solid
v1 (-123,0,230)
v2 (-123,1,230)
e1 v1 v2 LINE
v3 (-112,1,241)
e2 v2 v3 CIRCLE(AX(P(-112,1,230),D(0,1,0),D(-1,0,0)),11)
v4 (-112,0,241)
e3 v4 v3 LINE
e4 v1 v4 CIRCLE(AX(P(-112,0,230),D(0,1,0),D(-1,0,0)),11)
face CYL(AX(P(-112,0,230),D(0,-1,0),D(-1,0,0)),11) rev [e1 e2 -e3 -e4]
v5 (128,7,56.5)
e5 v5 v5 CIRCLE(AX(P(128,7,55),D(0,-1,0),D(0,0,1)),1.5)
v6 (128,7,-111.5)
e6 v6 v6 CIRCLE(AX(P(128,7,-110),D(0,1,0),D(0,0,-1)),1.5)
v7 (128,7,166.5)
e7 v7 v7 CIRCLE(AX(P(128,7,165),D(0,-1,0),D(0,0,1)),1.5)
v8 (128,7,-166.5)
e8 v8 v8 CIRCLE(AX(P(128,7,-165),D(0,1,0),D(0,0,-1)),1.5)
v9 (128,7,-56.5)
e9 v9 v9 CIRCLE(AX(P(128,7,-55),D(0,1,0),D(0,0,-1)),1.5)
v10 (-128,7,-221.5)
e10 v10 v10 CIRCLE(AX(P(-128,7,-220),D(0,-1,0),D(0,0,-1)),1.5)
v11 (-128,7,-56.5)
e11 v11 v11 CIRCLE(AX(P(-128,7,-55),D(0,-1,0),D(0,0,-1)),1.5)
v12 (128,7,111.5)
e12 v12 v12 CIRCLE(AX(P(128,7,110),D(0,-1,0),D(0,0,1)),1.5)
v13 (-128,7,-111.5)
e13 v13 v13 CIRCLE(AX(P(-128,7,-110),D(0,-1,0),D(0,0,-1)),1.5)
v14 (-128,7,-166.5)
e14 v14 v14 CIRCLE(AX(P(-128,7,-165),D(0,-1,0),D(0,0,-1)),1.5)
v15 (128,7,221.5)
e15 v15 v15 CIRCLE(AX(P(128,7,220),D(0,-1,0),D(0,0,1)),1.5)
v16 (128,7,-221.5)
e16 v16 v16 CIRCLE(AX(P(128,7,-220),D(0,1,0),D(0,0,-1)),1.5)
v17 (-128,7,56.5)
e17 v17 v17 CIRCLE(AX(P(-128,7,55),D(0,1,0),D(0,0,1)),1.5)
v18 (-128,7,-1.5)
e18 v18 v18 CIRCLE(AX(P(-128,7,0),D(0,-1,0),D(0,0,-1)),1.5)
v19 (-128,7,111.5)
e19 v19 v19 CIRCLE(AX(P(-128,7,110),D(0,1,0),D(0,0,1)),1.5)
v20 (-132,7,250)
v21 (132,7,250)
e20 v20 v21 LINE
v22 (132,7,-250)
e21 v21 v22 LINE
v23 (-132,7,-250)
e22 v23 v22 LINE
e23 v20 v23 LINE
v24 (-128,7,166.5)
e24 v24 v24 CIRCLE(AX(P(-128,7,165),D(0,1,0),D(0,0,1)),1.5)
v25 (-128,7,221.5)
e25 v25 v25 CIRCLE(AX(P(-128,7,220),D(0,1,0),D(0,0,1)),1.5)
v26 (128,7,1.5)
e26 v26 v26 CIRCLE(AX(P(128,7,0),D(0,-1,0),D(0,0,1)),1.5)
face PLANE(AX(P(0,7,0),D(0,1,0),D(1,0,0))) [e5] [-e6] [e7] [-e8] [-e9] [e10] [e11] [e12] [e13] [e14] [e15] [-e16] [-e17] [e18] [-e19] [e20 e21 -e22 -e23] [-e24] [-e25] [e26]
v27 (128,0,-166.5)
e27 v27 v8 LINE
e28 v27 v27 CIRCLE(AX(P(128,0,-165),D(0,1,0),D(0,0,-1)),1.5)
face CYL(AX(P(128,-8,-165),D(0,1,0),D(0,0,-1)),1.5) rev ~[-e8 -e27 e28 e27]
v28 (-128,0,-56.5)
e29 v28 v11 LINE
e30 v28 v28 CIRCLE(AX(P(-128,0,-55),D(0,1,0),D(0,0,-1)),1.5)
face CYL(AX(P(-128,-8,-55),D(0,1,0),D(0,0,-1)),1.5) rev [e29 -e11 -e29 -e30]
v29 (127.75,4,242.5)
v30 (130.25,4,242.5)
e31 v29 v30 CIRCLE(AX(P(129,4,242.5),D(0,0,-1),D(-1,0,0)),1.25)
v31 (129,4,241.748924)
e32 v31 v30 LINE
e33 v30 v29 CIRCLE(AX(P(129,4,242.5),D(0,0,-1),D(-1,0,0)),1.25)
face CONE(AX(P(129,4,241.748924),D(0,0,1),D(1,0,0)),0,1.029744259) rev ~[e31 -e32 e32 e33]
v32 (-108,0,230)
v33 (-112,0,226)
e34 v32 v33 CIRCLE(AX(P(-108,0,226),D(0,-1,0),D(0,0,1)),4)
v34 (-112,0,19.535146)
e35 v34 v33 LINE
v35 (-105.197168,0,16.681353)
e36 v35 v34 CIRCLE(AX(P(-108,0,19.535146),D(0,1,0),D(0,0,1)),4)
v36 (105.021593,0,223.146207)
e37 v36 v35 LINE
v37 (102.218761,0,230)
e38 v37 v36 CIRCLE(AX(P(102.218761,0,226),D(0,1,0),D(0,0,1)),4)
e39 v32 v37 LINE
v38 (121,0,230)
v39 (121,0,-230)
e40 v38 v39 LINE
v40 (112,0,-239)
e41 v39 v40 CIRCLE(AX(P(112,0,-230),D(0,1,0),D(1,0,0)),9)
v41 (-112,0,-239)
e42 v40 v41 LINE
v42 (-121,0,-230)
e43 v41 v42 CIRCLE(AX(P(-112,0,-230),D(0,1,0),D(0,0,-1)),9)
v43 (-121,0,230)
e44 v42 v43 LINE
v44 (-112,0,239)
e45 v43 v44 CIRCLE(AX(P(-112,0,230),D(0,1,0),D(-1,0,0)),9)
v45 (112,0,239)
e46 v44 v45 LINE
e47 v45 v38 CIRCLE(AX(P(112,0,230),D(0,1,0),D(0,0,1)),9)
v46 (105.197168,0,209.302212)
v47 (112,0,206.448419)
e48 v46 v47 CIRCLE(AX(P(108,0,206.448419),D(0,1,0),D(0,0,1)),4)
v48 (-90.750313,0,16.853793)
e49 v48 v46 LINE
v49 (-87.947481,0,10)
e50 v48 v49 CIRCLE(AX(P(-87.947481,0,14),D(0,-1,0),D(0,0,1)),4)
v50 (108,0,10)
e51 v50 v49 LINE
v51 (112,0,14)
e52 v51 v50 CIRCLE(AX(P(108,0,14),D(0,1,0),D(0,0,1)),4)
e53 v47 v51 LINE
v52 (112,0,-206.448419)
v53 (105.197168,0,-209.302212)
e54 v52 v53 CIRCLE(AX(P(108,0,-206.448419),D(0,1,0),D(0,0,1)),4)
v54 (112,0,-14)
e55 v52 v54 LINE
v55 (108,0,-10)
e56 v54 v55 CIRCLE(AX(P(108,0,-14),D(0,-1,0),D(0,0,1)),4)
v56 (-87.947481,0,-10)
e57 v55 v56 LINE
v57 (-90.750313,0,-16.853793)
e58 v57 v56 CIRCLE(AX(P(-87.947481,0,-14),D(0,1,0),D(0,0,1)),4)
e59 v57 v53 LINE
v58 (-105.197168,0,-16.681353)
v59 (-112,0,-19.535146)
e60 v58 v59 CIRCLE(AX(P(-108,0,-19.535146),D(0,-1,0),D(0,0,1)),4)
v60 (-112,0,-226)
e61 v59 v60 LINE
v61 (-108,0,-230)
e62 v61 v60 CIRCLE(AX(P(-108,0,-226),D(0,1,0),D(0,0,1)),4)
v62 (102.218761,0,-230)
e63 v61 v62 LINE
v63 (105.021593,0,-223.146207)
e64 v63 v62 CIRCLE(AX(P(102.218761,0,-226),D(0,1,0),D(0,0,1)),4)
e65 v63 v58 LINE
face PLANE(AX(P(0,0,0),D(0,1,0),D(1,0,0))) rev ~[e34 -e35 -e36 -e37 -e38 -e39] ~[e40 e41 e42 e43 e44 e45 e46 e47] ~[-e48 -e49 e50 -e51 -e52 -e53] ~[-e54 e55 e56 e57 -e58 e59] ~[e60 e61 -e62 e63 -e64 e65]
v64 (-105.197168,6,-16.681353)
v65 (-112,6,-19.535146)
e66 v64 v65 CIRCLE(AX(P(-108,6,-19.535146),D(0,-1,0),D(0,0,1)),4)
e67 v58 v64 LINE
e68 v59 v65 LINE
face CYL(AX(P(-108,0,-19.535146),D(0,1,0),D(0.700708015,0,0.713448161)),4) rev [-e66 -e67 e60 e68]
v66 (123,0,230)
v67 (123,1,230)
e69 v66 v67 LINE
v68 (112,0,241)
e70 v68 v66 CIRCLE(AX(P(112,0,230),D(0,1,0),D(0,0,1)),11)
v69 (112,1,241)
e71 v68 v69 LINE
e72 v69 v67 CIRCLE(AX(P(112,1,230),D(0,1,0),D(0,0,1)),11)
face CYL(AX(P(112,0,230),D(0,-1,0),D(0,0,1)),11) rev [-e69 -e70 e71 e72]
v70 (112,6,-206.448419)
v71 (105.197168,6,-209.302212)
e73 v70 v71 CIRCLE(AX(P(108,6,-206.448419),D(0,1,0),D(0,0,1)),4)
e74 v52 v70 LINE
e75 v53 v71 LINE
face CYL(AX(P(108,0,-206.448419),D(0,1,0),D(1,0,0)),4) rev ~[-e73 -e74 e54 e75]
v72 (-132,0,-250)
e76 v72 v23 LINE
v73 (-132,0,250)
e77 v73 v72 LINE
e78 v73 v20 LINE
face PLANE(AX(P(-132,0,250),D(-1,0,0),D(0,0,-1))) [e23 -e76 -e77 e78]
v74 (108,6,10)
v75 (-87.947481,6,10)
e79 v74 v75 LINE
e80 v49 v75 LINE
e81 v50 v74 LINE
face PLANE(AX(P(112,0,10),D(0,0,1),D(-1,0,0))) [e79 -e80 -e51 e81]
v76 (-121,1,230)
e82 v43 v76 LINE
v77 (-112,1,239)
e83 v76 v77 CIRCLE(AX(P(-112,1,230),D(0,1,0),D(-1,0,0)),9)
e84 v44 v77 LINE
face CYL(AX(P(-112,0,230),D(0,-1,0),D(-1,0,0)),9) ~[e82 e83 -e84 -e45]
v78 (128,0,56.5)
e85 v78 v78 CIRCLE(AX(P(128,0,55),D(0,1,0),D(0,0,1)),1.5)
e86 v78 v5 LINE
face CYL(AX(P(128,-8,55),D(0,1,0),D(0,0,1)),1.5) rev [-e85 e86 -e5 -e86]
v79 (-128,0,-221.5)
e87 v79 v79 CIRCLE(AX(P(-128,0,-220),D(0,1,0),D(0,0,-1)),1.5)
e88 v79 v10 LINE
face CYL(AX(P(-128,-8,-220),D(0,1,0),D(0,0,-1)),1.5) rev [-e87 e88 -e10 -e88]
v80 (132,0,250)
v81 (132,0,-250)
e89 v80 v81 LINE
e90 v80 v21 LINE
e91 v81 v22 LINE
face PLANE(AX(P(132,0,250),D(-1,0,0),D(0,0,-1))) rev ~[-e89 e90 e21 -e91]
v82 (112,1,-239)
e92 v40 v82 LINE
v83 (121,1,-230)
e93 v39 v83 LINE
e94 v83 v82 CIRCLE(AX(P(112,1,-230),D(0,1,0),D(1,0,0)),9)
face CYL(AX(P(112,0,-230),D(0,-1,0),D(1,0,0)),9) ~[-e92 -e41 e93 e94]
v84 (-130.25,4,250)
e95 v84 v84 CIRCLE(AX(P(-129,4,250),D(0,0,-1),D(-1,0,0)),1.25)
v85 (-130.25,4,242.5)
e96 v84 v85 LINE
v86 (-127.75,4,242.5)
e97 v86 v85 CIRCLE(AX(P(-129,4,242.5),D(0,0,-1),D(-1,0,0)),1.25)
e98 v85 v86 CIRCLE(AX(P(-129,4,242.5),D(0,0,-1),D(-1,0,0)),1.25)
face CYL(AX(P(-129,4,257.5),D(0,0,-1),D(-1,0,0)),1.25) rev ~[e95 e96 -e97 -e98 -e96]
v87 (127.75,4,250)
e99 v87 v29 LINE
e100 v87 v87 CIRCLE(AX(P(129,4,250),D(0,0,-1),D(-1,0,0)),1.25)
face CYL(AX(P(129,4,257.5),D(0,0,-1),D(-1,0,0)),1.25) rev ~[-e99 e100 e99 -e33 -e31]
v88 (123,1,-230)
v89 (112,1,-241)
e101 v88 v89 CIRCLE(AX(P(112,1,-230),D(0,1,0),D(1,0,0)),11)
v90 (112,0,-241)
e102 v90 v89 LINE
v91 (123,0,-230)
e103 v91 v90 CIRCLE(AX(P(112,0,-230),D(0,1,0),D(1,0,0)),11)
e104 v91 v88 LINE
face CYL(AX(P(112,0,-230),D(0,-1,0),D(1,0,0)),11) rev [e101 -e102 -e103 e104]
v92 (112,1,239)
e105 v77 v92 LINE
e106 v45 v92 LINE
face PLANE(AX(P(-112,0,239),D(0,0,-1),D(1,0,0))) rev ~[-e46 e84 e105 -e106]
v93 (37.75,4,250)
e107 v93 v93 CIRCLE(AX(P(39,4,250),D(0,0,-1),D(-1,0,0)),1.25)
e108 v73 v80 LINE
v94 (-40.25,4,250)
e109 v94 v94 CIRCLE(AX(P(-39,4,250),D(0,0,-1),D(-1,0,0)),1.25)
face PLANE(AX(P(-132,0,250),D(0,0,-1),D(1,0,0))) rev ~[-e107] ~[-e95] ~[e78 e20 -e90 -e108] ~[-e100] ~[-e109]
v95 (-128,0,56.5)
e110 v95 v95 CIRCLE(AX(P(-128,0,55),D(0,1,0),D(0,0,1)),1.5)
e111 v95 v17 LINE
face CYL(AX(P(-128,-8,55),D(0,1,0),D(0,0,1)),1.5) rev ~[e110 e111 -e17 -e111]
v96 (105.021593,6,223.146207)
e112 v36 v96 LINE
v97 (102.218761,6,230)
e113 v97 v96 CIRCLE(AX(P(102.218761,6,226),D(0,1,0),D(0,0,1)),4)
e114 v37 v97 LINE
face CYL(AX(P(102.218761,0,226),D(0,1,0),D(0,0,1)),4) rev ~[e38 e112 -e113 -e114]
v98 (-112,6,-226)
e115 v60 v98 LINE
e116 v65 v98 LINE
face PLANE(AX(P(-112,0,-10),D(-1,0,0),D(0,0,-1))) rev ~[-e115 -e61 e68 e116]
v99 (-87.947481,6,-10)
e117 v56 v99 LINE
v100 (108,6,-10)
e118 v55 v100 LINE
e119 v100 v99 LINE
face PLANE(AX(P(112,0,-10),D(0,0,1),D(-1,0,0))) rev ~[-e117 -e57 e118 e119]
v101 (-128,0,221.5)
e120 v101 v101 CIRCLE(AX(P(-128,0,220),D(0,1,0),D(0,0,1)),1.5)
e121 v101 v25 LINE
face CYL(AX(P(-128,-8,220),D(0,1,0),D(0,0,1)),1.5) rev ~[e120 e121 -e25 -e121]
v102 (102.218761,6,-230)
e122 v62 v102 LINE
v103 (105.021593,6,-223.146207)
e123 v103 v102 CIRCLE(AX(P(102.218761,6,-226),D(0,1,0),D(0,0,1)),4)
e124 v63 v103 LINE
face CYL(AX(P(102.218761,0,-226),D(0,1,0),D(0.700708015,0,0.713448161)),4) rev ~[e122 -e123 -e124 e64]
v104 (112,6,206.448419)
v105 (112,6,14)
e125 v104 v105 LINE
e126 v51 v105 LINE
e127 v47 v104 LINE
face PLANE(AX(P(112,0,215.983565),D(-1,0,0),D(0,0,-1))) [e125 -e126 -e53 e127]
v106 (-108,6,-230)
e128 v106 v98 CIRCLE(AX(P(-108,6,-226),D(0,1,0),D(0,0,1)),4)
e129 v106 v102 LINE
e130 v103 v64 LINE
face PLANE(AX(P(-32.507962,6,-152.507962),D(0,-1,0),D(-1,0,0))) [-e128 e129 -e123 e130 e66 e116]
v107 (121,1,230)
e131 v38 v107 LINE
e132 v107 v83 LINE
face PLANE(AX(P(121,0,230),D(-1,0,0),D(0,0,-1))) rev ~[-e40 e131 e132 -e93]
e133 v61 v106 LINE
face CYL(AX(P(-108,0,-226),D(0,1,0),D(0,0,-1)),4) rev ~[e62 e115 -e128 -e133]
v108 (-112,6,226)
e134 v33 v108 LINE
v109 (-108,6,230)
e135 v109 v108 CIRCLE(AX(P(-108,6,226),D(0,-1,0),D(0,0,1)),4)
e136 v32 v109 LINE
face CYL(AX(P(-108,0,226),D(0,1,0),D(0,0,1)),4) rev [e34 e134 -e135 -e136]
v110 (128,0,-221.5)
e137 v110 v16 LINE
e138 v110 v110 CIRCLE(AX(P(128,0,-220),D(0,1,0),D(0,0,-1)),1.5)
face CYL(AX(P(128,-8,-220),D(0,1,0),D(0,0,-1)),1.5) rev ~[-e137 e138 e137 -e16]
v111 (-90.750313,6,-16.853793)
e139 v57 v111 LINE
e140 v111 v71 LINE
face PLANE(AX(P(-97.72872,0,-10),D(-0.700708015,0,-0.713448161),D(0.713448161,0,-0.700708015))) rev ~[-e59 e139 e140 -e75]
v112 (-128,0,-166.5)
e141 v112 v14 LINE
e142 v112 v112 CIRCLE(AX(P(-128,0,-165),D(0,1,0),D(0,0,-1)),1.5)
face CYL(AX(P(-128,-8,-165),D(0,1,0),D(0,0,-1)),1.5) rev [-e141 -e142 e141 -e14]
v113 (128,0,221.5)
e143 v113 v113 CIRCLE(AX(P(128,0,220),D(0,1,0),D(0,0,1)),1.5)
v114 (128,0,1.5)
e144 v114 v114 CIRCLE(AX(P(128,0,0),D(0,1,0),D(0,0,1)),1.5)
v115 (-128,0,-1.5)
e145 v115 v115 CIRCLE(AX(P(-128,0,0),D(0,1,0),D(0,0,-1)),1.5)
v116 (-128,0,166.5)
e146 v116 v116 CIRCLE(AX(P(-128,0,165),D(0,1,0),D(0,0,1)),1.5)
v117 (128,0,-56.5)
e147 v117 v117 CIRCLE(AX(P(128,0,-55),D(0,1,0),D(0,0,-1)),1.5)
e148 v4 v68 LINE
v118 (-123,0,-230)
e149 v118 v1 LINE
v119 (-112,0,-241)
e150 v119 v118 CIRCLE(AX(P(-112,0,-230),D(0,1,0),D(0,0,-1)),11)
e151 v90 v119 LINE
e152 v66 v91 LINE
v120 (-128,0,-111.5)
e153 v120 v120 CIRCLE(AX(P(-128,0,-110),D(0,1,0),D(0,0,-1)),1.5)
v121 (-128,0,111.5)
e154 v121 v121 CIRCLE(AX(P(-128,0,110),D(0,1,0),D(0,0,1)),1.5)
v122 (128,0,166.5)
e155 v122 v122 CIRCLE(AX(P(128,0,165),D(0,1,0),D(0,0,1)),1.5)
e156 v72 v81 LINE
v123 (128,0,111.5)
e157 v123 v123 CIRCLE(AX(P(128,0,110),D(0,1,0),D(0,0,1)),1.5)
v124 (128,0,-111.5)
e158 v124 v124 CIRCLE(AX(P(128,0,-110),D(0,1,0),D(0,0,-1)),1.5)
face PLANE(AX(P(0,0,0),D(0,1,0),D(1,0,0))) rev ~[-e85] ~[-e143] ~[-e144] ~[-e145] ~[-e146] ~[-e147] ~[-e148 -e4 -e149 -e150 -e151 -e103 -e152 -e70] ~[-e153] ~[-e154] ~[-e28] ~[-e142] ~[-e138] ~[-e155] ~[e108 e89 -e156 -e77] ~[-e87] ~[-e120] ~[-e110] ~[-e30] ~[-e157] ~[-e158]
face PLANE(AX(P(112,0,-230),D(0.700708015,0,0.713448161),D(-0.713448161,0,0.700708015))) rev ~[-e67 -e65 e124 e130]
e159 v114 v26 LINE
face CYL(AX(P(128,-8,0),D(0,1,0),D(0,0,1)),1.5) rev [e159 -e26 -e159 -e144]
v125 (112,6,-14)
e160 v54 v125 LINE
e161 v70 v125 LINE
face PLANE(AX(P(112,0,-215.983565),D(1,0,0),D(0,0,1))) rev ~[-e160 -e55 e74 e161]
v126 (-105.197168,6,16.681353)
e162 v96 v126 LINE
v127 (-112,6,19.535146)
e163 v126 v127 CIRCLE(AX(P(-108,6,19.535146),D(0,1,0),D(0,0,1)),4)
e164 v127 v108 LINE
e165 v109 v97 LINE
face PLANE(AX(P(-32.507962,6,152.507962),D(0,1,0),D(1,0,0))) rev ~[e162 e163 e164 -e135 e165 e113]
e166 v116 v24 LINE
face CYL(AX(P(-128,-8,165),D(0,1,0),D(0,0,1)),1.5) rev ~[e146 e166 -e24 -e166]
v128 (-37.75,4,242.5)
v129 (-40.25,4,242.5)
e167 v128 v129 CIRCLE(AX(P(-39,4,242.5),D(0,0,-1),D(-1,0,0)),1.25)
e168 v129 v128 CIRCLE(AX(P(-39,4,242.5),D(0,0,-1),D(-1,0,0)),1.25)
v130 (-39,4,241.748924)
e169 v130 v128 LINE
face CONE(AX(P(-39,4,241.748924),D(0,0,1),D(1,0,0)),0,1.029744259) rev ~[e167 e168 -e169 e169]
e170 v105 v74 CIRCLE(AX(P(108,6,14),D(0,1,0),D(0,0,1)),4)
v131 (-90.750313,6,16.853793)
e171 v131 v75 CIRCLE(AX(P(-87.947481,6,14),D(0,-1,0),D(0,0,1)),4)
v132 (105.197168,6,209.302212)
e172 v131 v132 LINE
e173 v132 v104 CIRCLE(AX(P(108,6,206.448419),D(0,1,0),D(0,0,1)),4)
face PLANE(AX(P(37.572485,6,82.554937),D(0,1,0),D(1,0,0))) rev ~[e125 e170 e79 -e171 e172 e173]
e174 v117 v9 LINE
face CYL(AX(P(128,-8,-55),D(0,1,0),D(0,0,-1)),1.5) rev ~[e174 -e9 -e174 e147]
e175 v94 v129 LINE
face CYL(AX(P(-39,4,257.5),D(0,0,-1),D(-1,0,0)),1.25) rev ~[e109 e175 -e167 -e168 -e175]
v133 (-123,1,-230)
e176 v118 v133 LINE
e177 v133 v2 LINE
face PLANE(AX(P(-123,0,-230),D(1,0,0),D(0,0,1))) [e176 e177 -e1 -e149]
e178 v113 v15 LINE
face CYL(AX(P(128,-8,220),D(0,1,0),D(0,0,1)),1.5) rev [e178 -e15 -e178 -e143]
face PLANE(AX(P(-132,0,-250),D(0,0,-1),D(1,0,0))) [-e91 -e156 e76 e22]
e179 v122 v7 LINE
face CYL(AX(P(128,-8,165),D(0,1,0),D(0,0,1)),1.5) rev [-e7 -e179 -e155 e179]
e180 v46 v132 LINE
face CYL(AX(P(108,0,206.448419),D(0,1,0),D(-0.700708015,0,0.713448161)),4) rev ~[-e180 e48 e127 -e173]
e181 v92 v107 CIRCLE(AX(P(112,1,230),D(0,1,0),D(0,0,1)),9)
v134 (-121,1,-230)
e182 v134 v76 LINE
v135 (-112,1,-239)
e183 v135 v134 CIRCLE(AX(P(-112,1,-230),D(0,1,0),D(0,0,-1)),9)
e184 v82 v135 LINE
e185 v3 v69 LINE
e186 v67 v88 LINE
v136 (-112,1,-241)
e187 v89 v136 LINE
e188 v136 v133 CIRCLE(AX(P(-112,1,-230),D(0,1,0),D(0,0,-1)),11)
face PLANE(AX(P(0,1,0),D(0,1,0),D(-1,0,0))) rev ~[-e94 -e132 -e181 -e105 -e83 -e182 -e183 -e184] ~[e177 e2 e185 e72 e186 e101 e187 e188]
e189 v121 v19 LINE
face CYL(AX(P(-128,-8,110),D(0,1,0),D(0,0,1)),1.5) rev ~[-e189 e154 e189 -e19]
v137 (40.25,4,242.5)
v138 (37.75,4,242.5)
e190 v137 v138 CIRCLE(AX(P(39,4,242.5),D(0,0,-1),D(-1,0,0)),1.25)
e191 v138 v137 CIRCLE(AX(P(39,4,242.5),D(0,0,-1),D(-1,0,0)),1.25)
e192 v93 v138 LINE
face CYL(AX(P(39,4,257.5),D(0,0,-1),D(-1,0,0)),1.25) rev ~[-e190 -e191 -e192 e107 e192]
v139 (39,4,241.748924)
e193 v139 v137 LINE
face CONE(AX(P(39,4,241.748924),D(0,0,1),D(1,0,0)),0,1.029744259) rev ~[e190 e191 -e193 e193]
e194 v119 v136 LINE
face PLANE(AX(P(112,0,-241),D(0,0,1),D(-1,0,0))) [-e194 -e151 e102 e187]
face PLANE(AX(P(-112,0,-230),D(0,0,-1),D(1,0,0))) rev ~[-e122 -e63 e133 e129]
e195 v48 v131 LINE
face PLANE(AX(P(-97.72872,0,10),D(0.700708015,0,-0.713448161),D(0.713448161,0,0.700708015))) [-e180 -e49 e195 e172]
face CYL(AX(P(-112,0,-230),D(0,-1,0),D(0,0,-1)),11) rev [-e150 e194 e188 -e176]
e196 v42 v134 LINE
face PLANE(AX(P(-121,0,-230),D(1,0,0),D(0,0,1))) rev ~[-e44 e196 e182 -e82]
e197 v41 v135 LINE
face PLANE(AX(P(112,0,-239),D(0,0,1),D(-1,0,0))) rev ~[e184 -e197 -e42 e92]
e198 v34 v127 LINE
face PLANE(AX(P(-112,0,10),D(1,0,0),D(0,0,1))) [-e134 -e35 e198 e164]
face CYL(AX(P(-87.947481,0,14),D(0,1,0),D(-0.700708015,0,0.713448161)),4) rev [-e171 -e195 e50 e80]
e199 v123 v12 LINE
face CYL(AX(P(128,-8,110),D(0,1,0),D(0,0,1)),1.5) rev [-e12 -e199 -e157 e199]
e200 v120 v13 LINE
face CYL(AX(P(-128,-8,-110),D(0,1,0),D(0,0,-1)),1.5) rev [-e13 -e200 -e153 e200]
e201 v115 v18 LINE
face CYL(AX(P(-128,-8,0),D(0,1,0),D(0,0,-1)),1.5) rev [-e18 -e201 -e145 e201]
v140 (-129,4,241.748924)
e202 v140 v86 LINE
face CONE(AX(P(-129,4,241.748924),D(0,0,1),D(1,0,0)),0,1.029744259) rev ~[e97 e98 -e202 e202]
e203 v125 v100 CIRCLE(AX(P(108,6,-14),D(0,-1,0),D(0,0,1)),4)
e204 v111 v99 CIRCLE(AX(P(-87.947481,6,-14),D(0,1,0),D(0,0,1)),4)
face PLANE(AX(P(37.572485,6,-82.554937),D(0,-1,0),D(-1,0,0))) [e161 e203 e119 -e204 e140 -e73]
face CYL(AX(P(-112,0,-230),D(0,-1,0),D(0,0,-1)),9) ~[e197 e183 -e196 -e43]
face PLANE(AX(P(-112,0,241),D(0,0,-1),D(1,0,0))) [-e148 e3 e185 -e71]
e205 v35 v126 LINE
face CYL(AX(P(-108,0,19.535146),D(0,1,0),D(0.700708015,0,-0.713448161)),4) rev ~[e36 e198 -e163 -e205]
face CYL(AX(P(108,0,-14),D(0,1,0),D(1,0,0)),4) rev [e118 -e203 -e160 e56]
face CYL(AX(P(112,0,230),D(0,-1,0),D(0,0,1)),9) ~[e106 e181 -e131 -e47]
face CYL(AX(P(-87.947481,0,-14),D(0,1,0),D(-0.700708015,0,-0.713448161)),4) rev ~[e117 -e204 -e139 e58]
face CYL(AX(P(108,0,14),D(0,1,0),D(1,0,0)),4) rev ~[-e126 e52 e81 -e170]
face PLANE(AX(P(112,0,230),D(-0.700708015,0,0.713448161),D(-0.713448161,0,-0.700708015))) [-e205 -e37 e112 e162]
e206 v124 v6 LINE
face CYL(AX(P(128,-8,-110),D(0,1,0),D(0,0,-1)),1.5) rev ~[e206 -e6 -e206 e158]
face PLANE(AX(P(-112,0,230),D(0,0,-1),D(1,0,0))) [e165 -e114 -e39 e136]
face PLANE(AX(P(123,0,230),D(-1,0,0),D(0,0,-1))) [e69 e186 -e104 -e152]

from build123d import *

# Parameters (mm, degrees)
SKETCH1_W                      = 264
SKETCH1_H                      = 500
BOSS_EXTRUDE1_DEPTH            = 7
CUT_EXTRUDE1_DEPTH             = 1
F_3_0MM_DOWEL_HOLE1_AT_2_COUNT = 2
F_3_0MM_DOWEL_HOLE1_AT_2_PITCH = 55
F_3_0MM_DOWEL_HOLE1_AT_3_COUNT = 2
F_3_0MM_DOWEL_HOLE1_AT_3_PITCH = 110
F_3_0MM_DOWEL_HOLE1_AT_4_COUNT = 2
F_3_0MM_DOWEL_HOLE1_AT_4_PITCH = 165
F_3_0MM_DOWEL_HOLE1_AT_5_COUNT = 2
F_3_0MM_DOWEL_HOLE1_AT_5_PITCH = 220
CUT_EXTRUDE2_DEPTH             = 6
FILLET1_R                      = 4
M3_TAPPED_HOLE2_D              = 2.5
M3_TAPPED_HOLE2_DEPTH          = 7.5
M3_TAPPED_HOLE2_TIP            = 0.751075774


with BuildPart() as part:
    # Sketch1 → Boss-Extrude1 (new body)
    with BuildSketch(Plane(origin=(0, 0, 0), x_dir=(1, 0, 0), z_dir=(0, 1, 0))):
        Rectangle(SKETCH1_W, SKETCH1_H)
    extrude(amount=BOSS_EXTRUDE1_DEPTH)

    # Sketch2 → Cut-Extrude1 (cut)
    with BuildSketch(Plane.XZ):
        with BuildLine():
            Line((123, 230), (123, -230))
            ThreePointArc((123, -230), (119.778174593, -237.778174593), (112, -241))
            Line((112, -241), (-112, -241))
            ThreePointArc((-112, -241), (-119.778174593, -237.778174593), (-123, -230))
            Line((-123, -230), (-123, 230))
            ThreePointArc((-123, 230), (-119.778174593, 237.778174593), (-112, 241))
            Line((-112, 241), (112, 241))
            ThreePointArc((112, 241), (119.778174593, 237.778174593), (123, 230))
        make_face()
        with BuildLine():
            Line((121, 230), (121, -230))
            ThreePointArc((121, -230), (118.363961031, -236.363961031), (112, -239))
            Line((112, -239), (-112, -239))
            ThreePointArc((-112, -239), (-118.363961031, -236.363961031), (-121, -230))
            Line((-121, -230), (-121, 230))
            ThreePointArc((-121, 230), (-118.363961031, 236.363961031), (-112, 239))
            Line((-112, 239), (112, 239))
            ThreePointArc((112, 239), (118.363961031, 236.363961031), (121, 230))
        make_face(mode=Mode.SUBTRACT)
    extrude(amount=-CUT_EXTRUDE1_DEPTH, mode=Mode.SUBTRACT)

    # Sketch3 → Ø3.0mm Dowel Hole1 (revolve, cut)
    with BuildSketch(Plane(origin=(128, 7, 220), x_dir=(0, 0, 1), z_dir=(1, 0, 0))):
        Polygon((0, 0), (0, 15.901290929), (1.5, 15), (1.5, 0), align=None)
    f_3_0mm_dowel_hole1 = revolve(axis=Axis((128, 13.35, 220), (0, -1, 0)), mode=Mode.SUBTRACT)

    # Ø3.0mm Dowel Hole1 at 2: Ø3.0mm Dowel Hole1 ×2
    with Locations(*[(0, 0, -i * F_3_0MM_DOWEL_HOLE1_AT_2_PITCH) for i in range(1, F_3_0MM_DOWEL_HOLE1_AT_2_COUNT)]):
        add(f_3_0mm_dowel_hole1, mode=Mode.SUBTRACT)

    # Ø3.0mm Dowel Hole1 at 3: Ø3.0mm Dowel Hole1 ×2
    with Locations(*[(0, 0, -i * F_3_0MM_DOWEL_HOLE1_AT_3_PITCH) for i in range(1, F_3_0MM_DOWEL_HOLE1_AT_3_COUNT)]):
        add(f_3_0mm_dowel_hole1, mode=Mode.SUBTRACT)

    # Ø3.0mm Dowel Hole1 at 4: Ø3.0mm Dowel Hole1 ×2
    with Locations(*[(0, 0, -i * F_3_0MM_DOWEL_HOLE1_AT_4_PITCH) for i in range(1, F_3_0MM_DOWEL_HOLE1_AT_4_COUNT)]):
        add(f_3_0mm_dowel_hole1, mode=Mode.SUBTRACT)

    # Ø3.0mm Dowel Hole1 at 5: Ø3.0mm Dowel Hole1 ×2
    with Locations(*[(0, 0, -i * F_3_0MM_DOWEL_HOLE1_AT_5_PITCH) for i in range(1, F_3_0MM_DOWEL_HOLE1_AT_5_COUNT)]):
        add(f_3_0mm_dowel_hole1, mode=Mode.SUBTRACT)

    # Mirror1: Ø3.0mm Dowel Hole1 across plane
    add(f_3_0mm_dowel_hole1.mirror(Plane.XY), mode=Mode.SUBTRACT)

    # Mirror1 copy 1 sketch → Mirror1 copy 1 (revolve, cut)
    with BuildSketch(Plane(origin=(128, 7, -165), x_dir=(0, 0, -1), z_dir=(1, 0, 0))):
        Polygon((0, 0), (0, -15.901290929), (1.5, -15), (1.5, 0), align=None)
    revolve(axis=Axis((128, 13.35, -165), (0, 1, 0)), mode=Mode.SUBTRACT)

    # Mirror1 copy 2 sketch → Mirror1 copy 2 (revolve, cut)
    with BuildSketch(Plane(origin=(128, 7, -110), x_dir=(0, 0, -1), z_dir=(1, 0, 0))):
        Polygon((0, 0), (0, -15.901290929), (1.5, -15), (1.5, 0), align=None)
    revolve(axis=Axis((128, 13.35, -110), (0, 1, 0)), mode=Mode.SUBTRACT)

    # Mirror1 copy 3 sketch → Mirror1 copy 3 (revolve, cut)
    with BuildSketch(Plane(origin=(128, 7, -55), x_dir=(0, 0, -1), z_dir=(1, 0, 0))):
        Polygon((0, 0), (0, -15.901290929), (1.5, -15), (1.5, 0), align=None)
    revolve(axis=Axis((128, 13.35, -55), (0, 1, 0)), mode=Mode.SUBTRACT)

    # Mirror1 copy 4 sketch → Mirror1 copy 4 (revolve, cut)
    with BuildSketch(Plane(origin=(128, 7, 0), x_dir=(0, 0, -1), z_dir=(1, 0, 0))):
        Polygon((0, 0), (0, -15.901290929), (1.5, -15), (1.5, 0), align=None)
    revolve(axis=Axis((128, 13.35, 0), (0, 1, 0)), mode=Mode.SUBTRACT)

    # Mirror2: Ø3.0mm Dowel Hole1 across plane
    add(f_3_0mm_dowel_hole1.mirror(Plane(origin=(0, 0, 0), x_dir=(0, 0, 1), z_dir=(1, 0, 0))), mode=Mode.SUBTRACT)

    # Mirror2 copy 1 sketch → Mirror2 copy 1 (revolve, cut)
    with BuildSketch(Plane(origin=(-128, 7, -220), x_dir=(0, 0, -1), z_dir=(-1, 0, 0))):
        Polygon((0, 0), (0, 15.901290929), (1.5, 15), (1.5, 0), align=None)
    revolve(axis=Axis((-128, 13.35, -220), (0, -1, 0)), mode=Mode.SUBTRACT)

    # Mirror2 copy 2 sketch → Mirror2 copy 2 (revolve, cut)
    with BuildSketch(Plane(origin=(-128, 7, -165), x_dir=(0, 0, -1), z_dir=(-1, 0, 0))):
        Polygon((0, 0), (0, 15.901290929), (1.5, 15), (1.5, 0), align=None)
    revolve(axis=Axis((-128, 13.35, -165), (0, -1, 0)), mode=Mode.SUBTRACT)

    # Mirror2 copy 3 sketch → Mirror2 copy 3 (revolve, cut)
    with BuildSketch(Plane(origin=(-128, 7, -110), x_dir=(0, 0, -1), z_dir=(-1, 0, 0))):
        Polygon((0, 0), (0, 15.901290929), (1.5, 15), (1.5, 0), align=None)
    revolve(axis=Axis((-128, 13.35, -110), (0, -1, 0)), mode=Mode.SUBTRACT)

    # Mirror2 copy 4 sketch → Mirror2 copy 4 (revolve, cut)
    with BuildSketch(Plane(origin=(-128, 7, -55), x_dir=(0, 0, -1), z_dir=(-1, 0, 0))):
        Polygon((0, 0), (0, 15.901290929), (1.5, 15), (1.5, 0), align=None)
    revolve(axis=Axis((-128, 13.35, -55), (0, -1, 0)), mode=Mode.SUBTRACT)

    # Mirror2 copy 5 sketch → Mirror2 copy 5 (revolve, cut)
    with BuildSketch(Plane(origin=(-128, 7, 0), x_dir=(0, 0, -1), z_dir=(-1, 0, 0))):
        Polygon((0, 0), (0, 15.901290929), (1.5, 15), (1.5, 0), align=None)
    revolve(axis=Axis((-128, 13.35, 0), (0, -1, 0)), mode=Mode.SUBTRACT)

    # Mirror2 copy 6 sketch → Mirror2 copy 6 (revolve, cut)
    with BuildSketch(Plane(origin=(-128, 7, 165), x_dir=(0, 0, 1), z_dir=(-1, 0, 0))):
        Polygon((0, 0), (0, -15.901290929), (1.5, -15), (1.5, 0), align=None)
    revolve(axis=Axis((-128, 13.35, 165), (0, 1, 0)), mode=Mode.SUBTRACT)

    # Mirror2 copy 7 sketch → Mirror2 copy 7 (revolve, cut)
    with BuildSketch(Plane(origin=(-128, 7, 110), x_dir=(0, 0, 1), z_dir=(-1, 0, 0))):
        Polygon((0, 0), (0, -15.901290929), (1.5, -15), (1.5, 0), align=None)
    revolve(axis=Axis((-128, 13.35, 110), (0, 1, 0)), mode=Mode.SUBTRACT)

    # Mirror2 copy 8 sketch → Mirror2 copy 8 (revolve, cut)
    with BuildSketch(Plane(origin=(-128, 7, 55), x_dir=(0, 0, 1), z_dir=(-1, 0, 0))):
        Polygon((0, 0), (0, -15.901290929), (1.5, -15), (1.5, 0), align=None)
    revolve(axis=Axis((-128, 13.35, 55), (0, 1, 0)), mode=Mode.SUBTRACT)

    # Mirror2 copy 9 sketch → Mirror2 copy 9 (revolve, cut)
    with BuildSketch(Plane(origin=(-128, 7, 0), x_dir=(0, 0, 1), z_dir=(-1, 0, 0))):
        Polygon((0, 0), (0, -15.901290929), (1.5, -15), (1.5, 0), align=None)
    revolve(axis=Axis((-128, 13.35, 0), (0, 1, 0)), mode=Mode.SUBTRACT)

    # Sketch5 → Cut-Extrude2 (cut)
    with BuildSketch(Plane(origin=(0, 0, 0), x_dir=(-1, 0, 0), z_dir=(0, -1, 0))):
        Polygon((112, -230), (-112, -230), (112, -10), align=None)
        Polygon((97.728720398, -10), (-112, -215.983564676), (-112, -10), align=None)
        Polygon((-112, 10), (97.728720398, 10), (-112, 215.983564676), align=None)
        Polygon((112, 10), (112, 230), (-112, 230), align=None)
    extrude(amount=-CUT_EXTRUDE2_DEPTH, mode=Mode.SUBTRACT)

    # Fillet1
    fillet1_edges = [part.edges().sort_by_distance(p)[0] for p in [
        (-112, 3, 10),
        (-112, 3, 230),
        (112, 3, 230),
        (112, 3, 10),
        (-97.728720398, 3, 10),
        (112, 3, 215.983564676),
        (112, 3, -10),
        (112, 3, -215.983564676),
        (-97.728720398, 3, -10),
        (-112, 3, -10),
        (112, 3, -230),
        (-112, 3, -230),
    ]]
    fillet(fillet1_edges, radius=FILLET1_R)

    # M3 Tapped Hole2
    with Locations(Plane.XY.offset(250)):
        with Locations((-129, 4), (-39, 4), (39, 4), (129, 4)):
            Hole(M3_TAPPED_HOLE2_D / 2, depth=M3_TAPPED_HOLE2_DEPTH)
            with Locations((0, 0, -(M3_TAPPED_HOLE2_DEPTH + M3_TAPPED_HOLE2_TIP / 2))):  # 118° drill point
                Cone(0, M3_TAPPED_HOLE2_D / 2, M3_TAPPED_HOLE2_TIP, mode=Mode.SUBTRACT)


solid = part.part
